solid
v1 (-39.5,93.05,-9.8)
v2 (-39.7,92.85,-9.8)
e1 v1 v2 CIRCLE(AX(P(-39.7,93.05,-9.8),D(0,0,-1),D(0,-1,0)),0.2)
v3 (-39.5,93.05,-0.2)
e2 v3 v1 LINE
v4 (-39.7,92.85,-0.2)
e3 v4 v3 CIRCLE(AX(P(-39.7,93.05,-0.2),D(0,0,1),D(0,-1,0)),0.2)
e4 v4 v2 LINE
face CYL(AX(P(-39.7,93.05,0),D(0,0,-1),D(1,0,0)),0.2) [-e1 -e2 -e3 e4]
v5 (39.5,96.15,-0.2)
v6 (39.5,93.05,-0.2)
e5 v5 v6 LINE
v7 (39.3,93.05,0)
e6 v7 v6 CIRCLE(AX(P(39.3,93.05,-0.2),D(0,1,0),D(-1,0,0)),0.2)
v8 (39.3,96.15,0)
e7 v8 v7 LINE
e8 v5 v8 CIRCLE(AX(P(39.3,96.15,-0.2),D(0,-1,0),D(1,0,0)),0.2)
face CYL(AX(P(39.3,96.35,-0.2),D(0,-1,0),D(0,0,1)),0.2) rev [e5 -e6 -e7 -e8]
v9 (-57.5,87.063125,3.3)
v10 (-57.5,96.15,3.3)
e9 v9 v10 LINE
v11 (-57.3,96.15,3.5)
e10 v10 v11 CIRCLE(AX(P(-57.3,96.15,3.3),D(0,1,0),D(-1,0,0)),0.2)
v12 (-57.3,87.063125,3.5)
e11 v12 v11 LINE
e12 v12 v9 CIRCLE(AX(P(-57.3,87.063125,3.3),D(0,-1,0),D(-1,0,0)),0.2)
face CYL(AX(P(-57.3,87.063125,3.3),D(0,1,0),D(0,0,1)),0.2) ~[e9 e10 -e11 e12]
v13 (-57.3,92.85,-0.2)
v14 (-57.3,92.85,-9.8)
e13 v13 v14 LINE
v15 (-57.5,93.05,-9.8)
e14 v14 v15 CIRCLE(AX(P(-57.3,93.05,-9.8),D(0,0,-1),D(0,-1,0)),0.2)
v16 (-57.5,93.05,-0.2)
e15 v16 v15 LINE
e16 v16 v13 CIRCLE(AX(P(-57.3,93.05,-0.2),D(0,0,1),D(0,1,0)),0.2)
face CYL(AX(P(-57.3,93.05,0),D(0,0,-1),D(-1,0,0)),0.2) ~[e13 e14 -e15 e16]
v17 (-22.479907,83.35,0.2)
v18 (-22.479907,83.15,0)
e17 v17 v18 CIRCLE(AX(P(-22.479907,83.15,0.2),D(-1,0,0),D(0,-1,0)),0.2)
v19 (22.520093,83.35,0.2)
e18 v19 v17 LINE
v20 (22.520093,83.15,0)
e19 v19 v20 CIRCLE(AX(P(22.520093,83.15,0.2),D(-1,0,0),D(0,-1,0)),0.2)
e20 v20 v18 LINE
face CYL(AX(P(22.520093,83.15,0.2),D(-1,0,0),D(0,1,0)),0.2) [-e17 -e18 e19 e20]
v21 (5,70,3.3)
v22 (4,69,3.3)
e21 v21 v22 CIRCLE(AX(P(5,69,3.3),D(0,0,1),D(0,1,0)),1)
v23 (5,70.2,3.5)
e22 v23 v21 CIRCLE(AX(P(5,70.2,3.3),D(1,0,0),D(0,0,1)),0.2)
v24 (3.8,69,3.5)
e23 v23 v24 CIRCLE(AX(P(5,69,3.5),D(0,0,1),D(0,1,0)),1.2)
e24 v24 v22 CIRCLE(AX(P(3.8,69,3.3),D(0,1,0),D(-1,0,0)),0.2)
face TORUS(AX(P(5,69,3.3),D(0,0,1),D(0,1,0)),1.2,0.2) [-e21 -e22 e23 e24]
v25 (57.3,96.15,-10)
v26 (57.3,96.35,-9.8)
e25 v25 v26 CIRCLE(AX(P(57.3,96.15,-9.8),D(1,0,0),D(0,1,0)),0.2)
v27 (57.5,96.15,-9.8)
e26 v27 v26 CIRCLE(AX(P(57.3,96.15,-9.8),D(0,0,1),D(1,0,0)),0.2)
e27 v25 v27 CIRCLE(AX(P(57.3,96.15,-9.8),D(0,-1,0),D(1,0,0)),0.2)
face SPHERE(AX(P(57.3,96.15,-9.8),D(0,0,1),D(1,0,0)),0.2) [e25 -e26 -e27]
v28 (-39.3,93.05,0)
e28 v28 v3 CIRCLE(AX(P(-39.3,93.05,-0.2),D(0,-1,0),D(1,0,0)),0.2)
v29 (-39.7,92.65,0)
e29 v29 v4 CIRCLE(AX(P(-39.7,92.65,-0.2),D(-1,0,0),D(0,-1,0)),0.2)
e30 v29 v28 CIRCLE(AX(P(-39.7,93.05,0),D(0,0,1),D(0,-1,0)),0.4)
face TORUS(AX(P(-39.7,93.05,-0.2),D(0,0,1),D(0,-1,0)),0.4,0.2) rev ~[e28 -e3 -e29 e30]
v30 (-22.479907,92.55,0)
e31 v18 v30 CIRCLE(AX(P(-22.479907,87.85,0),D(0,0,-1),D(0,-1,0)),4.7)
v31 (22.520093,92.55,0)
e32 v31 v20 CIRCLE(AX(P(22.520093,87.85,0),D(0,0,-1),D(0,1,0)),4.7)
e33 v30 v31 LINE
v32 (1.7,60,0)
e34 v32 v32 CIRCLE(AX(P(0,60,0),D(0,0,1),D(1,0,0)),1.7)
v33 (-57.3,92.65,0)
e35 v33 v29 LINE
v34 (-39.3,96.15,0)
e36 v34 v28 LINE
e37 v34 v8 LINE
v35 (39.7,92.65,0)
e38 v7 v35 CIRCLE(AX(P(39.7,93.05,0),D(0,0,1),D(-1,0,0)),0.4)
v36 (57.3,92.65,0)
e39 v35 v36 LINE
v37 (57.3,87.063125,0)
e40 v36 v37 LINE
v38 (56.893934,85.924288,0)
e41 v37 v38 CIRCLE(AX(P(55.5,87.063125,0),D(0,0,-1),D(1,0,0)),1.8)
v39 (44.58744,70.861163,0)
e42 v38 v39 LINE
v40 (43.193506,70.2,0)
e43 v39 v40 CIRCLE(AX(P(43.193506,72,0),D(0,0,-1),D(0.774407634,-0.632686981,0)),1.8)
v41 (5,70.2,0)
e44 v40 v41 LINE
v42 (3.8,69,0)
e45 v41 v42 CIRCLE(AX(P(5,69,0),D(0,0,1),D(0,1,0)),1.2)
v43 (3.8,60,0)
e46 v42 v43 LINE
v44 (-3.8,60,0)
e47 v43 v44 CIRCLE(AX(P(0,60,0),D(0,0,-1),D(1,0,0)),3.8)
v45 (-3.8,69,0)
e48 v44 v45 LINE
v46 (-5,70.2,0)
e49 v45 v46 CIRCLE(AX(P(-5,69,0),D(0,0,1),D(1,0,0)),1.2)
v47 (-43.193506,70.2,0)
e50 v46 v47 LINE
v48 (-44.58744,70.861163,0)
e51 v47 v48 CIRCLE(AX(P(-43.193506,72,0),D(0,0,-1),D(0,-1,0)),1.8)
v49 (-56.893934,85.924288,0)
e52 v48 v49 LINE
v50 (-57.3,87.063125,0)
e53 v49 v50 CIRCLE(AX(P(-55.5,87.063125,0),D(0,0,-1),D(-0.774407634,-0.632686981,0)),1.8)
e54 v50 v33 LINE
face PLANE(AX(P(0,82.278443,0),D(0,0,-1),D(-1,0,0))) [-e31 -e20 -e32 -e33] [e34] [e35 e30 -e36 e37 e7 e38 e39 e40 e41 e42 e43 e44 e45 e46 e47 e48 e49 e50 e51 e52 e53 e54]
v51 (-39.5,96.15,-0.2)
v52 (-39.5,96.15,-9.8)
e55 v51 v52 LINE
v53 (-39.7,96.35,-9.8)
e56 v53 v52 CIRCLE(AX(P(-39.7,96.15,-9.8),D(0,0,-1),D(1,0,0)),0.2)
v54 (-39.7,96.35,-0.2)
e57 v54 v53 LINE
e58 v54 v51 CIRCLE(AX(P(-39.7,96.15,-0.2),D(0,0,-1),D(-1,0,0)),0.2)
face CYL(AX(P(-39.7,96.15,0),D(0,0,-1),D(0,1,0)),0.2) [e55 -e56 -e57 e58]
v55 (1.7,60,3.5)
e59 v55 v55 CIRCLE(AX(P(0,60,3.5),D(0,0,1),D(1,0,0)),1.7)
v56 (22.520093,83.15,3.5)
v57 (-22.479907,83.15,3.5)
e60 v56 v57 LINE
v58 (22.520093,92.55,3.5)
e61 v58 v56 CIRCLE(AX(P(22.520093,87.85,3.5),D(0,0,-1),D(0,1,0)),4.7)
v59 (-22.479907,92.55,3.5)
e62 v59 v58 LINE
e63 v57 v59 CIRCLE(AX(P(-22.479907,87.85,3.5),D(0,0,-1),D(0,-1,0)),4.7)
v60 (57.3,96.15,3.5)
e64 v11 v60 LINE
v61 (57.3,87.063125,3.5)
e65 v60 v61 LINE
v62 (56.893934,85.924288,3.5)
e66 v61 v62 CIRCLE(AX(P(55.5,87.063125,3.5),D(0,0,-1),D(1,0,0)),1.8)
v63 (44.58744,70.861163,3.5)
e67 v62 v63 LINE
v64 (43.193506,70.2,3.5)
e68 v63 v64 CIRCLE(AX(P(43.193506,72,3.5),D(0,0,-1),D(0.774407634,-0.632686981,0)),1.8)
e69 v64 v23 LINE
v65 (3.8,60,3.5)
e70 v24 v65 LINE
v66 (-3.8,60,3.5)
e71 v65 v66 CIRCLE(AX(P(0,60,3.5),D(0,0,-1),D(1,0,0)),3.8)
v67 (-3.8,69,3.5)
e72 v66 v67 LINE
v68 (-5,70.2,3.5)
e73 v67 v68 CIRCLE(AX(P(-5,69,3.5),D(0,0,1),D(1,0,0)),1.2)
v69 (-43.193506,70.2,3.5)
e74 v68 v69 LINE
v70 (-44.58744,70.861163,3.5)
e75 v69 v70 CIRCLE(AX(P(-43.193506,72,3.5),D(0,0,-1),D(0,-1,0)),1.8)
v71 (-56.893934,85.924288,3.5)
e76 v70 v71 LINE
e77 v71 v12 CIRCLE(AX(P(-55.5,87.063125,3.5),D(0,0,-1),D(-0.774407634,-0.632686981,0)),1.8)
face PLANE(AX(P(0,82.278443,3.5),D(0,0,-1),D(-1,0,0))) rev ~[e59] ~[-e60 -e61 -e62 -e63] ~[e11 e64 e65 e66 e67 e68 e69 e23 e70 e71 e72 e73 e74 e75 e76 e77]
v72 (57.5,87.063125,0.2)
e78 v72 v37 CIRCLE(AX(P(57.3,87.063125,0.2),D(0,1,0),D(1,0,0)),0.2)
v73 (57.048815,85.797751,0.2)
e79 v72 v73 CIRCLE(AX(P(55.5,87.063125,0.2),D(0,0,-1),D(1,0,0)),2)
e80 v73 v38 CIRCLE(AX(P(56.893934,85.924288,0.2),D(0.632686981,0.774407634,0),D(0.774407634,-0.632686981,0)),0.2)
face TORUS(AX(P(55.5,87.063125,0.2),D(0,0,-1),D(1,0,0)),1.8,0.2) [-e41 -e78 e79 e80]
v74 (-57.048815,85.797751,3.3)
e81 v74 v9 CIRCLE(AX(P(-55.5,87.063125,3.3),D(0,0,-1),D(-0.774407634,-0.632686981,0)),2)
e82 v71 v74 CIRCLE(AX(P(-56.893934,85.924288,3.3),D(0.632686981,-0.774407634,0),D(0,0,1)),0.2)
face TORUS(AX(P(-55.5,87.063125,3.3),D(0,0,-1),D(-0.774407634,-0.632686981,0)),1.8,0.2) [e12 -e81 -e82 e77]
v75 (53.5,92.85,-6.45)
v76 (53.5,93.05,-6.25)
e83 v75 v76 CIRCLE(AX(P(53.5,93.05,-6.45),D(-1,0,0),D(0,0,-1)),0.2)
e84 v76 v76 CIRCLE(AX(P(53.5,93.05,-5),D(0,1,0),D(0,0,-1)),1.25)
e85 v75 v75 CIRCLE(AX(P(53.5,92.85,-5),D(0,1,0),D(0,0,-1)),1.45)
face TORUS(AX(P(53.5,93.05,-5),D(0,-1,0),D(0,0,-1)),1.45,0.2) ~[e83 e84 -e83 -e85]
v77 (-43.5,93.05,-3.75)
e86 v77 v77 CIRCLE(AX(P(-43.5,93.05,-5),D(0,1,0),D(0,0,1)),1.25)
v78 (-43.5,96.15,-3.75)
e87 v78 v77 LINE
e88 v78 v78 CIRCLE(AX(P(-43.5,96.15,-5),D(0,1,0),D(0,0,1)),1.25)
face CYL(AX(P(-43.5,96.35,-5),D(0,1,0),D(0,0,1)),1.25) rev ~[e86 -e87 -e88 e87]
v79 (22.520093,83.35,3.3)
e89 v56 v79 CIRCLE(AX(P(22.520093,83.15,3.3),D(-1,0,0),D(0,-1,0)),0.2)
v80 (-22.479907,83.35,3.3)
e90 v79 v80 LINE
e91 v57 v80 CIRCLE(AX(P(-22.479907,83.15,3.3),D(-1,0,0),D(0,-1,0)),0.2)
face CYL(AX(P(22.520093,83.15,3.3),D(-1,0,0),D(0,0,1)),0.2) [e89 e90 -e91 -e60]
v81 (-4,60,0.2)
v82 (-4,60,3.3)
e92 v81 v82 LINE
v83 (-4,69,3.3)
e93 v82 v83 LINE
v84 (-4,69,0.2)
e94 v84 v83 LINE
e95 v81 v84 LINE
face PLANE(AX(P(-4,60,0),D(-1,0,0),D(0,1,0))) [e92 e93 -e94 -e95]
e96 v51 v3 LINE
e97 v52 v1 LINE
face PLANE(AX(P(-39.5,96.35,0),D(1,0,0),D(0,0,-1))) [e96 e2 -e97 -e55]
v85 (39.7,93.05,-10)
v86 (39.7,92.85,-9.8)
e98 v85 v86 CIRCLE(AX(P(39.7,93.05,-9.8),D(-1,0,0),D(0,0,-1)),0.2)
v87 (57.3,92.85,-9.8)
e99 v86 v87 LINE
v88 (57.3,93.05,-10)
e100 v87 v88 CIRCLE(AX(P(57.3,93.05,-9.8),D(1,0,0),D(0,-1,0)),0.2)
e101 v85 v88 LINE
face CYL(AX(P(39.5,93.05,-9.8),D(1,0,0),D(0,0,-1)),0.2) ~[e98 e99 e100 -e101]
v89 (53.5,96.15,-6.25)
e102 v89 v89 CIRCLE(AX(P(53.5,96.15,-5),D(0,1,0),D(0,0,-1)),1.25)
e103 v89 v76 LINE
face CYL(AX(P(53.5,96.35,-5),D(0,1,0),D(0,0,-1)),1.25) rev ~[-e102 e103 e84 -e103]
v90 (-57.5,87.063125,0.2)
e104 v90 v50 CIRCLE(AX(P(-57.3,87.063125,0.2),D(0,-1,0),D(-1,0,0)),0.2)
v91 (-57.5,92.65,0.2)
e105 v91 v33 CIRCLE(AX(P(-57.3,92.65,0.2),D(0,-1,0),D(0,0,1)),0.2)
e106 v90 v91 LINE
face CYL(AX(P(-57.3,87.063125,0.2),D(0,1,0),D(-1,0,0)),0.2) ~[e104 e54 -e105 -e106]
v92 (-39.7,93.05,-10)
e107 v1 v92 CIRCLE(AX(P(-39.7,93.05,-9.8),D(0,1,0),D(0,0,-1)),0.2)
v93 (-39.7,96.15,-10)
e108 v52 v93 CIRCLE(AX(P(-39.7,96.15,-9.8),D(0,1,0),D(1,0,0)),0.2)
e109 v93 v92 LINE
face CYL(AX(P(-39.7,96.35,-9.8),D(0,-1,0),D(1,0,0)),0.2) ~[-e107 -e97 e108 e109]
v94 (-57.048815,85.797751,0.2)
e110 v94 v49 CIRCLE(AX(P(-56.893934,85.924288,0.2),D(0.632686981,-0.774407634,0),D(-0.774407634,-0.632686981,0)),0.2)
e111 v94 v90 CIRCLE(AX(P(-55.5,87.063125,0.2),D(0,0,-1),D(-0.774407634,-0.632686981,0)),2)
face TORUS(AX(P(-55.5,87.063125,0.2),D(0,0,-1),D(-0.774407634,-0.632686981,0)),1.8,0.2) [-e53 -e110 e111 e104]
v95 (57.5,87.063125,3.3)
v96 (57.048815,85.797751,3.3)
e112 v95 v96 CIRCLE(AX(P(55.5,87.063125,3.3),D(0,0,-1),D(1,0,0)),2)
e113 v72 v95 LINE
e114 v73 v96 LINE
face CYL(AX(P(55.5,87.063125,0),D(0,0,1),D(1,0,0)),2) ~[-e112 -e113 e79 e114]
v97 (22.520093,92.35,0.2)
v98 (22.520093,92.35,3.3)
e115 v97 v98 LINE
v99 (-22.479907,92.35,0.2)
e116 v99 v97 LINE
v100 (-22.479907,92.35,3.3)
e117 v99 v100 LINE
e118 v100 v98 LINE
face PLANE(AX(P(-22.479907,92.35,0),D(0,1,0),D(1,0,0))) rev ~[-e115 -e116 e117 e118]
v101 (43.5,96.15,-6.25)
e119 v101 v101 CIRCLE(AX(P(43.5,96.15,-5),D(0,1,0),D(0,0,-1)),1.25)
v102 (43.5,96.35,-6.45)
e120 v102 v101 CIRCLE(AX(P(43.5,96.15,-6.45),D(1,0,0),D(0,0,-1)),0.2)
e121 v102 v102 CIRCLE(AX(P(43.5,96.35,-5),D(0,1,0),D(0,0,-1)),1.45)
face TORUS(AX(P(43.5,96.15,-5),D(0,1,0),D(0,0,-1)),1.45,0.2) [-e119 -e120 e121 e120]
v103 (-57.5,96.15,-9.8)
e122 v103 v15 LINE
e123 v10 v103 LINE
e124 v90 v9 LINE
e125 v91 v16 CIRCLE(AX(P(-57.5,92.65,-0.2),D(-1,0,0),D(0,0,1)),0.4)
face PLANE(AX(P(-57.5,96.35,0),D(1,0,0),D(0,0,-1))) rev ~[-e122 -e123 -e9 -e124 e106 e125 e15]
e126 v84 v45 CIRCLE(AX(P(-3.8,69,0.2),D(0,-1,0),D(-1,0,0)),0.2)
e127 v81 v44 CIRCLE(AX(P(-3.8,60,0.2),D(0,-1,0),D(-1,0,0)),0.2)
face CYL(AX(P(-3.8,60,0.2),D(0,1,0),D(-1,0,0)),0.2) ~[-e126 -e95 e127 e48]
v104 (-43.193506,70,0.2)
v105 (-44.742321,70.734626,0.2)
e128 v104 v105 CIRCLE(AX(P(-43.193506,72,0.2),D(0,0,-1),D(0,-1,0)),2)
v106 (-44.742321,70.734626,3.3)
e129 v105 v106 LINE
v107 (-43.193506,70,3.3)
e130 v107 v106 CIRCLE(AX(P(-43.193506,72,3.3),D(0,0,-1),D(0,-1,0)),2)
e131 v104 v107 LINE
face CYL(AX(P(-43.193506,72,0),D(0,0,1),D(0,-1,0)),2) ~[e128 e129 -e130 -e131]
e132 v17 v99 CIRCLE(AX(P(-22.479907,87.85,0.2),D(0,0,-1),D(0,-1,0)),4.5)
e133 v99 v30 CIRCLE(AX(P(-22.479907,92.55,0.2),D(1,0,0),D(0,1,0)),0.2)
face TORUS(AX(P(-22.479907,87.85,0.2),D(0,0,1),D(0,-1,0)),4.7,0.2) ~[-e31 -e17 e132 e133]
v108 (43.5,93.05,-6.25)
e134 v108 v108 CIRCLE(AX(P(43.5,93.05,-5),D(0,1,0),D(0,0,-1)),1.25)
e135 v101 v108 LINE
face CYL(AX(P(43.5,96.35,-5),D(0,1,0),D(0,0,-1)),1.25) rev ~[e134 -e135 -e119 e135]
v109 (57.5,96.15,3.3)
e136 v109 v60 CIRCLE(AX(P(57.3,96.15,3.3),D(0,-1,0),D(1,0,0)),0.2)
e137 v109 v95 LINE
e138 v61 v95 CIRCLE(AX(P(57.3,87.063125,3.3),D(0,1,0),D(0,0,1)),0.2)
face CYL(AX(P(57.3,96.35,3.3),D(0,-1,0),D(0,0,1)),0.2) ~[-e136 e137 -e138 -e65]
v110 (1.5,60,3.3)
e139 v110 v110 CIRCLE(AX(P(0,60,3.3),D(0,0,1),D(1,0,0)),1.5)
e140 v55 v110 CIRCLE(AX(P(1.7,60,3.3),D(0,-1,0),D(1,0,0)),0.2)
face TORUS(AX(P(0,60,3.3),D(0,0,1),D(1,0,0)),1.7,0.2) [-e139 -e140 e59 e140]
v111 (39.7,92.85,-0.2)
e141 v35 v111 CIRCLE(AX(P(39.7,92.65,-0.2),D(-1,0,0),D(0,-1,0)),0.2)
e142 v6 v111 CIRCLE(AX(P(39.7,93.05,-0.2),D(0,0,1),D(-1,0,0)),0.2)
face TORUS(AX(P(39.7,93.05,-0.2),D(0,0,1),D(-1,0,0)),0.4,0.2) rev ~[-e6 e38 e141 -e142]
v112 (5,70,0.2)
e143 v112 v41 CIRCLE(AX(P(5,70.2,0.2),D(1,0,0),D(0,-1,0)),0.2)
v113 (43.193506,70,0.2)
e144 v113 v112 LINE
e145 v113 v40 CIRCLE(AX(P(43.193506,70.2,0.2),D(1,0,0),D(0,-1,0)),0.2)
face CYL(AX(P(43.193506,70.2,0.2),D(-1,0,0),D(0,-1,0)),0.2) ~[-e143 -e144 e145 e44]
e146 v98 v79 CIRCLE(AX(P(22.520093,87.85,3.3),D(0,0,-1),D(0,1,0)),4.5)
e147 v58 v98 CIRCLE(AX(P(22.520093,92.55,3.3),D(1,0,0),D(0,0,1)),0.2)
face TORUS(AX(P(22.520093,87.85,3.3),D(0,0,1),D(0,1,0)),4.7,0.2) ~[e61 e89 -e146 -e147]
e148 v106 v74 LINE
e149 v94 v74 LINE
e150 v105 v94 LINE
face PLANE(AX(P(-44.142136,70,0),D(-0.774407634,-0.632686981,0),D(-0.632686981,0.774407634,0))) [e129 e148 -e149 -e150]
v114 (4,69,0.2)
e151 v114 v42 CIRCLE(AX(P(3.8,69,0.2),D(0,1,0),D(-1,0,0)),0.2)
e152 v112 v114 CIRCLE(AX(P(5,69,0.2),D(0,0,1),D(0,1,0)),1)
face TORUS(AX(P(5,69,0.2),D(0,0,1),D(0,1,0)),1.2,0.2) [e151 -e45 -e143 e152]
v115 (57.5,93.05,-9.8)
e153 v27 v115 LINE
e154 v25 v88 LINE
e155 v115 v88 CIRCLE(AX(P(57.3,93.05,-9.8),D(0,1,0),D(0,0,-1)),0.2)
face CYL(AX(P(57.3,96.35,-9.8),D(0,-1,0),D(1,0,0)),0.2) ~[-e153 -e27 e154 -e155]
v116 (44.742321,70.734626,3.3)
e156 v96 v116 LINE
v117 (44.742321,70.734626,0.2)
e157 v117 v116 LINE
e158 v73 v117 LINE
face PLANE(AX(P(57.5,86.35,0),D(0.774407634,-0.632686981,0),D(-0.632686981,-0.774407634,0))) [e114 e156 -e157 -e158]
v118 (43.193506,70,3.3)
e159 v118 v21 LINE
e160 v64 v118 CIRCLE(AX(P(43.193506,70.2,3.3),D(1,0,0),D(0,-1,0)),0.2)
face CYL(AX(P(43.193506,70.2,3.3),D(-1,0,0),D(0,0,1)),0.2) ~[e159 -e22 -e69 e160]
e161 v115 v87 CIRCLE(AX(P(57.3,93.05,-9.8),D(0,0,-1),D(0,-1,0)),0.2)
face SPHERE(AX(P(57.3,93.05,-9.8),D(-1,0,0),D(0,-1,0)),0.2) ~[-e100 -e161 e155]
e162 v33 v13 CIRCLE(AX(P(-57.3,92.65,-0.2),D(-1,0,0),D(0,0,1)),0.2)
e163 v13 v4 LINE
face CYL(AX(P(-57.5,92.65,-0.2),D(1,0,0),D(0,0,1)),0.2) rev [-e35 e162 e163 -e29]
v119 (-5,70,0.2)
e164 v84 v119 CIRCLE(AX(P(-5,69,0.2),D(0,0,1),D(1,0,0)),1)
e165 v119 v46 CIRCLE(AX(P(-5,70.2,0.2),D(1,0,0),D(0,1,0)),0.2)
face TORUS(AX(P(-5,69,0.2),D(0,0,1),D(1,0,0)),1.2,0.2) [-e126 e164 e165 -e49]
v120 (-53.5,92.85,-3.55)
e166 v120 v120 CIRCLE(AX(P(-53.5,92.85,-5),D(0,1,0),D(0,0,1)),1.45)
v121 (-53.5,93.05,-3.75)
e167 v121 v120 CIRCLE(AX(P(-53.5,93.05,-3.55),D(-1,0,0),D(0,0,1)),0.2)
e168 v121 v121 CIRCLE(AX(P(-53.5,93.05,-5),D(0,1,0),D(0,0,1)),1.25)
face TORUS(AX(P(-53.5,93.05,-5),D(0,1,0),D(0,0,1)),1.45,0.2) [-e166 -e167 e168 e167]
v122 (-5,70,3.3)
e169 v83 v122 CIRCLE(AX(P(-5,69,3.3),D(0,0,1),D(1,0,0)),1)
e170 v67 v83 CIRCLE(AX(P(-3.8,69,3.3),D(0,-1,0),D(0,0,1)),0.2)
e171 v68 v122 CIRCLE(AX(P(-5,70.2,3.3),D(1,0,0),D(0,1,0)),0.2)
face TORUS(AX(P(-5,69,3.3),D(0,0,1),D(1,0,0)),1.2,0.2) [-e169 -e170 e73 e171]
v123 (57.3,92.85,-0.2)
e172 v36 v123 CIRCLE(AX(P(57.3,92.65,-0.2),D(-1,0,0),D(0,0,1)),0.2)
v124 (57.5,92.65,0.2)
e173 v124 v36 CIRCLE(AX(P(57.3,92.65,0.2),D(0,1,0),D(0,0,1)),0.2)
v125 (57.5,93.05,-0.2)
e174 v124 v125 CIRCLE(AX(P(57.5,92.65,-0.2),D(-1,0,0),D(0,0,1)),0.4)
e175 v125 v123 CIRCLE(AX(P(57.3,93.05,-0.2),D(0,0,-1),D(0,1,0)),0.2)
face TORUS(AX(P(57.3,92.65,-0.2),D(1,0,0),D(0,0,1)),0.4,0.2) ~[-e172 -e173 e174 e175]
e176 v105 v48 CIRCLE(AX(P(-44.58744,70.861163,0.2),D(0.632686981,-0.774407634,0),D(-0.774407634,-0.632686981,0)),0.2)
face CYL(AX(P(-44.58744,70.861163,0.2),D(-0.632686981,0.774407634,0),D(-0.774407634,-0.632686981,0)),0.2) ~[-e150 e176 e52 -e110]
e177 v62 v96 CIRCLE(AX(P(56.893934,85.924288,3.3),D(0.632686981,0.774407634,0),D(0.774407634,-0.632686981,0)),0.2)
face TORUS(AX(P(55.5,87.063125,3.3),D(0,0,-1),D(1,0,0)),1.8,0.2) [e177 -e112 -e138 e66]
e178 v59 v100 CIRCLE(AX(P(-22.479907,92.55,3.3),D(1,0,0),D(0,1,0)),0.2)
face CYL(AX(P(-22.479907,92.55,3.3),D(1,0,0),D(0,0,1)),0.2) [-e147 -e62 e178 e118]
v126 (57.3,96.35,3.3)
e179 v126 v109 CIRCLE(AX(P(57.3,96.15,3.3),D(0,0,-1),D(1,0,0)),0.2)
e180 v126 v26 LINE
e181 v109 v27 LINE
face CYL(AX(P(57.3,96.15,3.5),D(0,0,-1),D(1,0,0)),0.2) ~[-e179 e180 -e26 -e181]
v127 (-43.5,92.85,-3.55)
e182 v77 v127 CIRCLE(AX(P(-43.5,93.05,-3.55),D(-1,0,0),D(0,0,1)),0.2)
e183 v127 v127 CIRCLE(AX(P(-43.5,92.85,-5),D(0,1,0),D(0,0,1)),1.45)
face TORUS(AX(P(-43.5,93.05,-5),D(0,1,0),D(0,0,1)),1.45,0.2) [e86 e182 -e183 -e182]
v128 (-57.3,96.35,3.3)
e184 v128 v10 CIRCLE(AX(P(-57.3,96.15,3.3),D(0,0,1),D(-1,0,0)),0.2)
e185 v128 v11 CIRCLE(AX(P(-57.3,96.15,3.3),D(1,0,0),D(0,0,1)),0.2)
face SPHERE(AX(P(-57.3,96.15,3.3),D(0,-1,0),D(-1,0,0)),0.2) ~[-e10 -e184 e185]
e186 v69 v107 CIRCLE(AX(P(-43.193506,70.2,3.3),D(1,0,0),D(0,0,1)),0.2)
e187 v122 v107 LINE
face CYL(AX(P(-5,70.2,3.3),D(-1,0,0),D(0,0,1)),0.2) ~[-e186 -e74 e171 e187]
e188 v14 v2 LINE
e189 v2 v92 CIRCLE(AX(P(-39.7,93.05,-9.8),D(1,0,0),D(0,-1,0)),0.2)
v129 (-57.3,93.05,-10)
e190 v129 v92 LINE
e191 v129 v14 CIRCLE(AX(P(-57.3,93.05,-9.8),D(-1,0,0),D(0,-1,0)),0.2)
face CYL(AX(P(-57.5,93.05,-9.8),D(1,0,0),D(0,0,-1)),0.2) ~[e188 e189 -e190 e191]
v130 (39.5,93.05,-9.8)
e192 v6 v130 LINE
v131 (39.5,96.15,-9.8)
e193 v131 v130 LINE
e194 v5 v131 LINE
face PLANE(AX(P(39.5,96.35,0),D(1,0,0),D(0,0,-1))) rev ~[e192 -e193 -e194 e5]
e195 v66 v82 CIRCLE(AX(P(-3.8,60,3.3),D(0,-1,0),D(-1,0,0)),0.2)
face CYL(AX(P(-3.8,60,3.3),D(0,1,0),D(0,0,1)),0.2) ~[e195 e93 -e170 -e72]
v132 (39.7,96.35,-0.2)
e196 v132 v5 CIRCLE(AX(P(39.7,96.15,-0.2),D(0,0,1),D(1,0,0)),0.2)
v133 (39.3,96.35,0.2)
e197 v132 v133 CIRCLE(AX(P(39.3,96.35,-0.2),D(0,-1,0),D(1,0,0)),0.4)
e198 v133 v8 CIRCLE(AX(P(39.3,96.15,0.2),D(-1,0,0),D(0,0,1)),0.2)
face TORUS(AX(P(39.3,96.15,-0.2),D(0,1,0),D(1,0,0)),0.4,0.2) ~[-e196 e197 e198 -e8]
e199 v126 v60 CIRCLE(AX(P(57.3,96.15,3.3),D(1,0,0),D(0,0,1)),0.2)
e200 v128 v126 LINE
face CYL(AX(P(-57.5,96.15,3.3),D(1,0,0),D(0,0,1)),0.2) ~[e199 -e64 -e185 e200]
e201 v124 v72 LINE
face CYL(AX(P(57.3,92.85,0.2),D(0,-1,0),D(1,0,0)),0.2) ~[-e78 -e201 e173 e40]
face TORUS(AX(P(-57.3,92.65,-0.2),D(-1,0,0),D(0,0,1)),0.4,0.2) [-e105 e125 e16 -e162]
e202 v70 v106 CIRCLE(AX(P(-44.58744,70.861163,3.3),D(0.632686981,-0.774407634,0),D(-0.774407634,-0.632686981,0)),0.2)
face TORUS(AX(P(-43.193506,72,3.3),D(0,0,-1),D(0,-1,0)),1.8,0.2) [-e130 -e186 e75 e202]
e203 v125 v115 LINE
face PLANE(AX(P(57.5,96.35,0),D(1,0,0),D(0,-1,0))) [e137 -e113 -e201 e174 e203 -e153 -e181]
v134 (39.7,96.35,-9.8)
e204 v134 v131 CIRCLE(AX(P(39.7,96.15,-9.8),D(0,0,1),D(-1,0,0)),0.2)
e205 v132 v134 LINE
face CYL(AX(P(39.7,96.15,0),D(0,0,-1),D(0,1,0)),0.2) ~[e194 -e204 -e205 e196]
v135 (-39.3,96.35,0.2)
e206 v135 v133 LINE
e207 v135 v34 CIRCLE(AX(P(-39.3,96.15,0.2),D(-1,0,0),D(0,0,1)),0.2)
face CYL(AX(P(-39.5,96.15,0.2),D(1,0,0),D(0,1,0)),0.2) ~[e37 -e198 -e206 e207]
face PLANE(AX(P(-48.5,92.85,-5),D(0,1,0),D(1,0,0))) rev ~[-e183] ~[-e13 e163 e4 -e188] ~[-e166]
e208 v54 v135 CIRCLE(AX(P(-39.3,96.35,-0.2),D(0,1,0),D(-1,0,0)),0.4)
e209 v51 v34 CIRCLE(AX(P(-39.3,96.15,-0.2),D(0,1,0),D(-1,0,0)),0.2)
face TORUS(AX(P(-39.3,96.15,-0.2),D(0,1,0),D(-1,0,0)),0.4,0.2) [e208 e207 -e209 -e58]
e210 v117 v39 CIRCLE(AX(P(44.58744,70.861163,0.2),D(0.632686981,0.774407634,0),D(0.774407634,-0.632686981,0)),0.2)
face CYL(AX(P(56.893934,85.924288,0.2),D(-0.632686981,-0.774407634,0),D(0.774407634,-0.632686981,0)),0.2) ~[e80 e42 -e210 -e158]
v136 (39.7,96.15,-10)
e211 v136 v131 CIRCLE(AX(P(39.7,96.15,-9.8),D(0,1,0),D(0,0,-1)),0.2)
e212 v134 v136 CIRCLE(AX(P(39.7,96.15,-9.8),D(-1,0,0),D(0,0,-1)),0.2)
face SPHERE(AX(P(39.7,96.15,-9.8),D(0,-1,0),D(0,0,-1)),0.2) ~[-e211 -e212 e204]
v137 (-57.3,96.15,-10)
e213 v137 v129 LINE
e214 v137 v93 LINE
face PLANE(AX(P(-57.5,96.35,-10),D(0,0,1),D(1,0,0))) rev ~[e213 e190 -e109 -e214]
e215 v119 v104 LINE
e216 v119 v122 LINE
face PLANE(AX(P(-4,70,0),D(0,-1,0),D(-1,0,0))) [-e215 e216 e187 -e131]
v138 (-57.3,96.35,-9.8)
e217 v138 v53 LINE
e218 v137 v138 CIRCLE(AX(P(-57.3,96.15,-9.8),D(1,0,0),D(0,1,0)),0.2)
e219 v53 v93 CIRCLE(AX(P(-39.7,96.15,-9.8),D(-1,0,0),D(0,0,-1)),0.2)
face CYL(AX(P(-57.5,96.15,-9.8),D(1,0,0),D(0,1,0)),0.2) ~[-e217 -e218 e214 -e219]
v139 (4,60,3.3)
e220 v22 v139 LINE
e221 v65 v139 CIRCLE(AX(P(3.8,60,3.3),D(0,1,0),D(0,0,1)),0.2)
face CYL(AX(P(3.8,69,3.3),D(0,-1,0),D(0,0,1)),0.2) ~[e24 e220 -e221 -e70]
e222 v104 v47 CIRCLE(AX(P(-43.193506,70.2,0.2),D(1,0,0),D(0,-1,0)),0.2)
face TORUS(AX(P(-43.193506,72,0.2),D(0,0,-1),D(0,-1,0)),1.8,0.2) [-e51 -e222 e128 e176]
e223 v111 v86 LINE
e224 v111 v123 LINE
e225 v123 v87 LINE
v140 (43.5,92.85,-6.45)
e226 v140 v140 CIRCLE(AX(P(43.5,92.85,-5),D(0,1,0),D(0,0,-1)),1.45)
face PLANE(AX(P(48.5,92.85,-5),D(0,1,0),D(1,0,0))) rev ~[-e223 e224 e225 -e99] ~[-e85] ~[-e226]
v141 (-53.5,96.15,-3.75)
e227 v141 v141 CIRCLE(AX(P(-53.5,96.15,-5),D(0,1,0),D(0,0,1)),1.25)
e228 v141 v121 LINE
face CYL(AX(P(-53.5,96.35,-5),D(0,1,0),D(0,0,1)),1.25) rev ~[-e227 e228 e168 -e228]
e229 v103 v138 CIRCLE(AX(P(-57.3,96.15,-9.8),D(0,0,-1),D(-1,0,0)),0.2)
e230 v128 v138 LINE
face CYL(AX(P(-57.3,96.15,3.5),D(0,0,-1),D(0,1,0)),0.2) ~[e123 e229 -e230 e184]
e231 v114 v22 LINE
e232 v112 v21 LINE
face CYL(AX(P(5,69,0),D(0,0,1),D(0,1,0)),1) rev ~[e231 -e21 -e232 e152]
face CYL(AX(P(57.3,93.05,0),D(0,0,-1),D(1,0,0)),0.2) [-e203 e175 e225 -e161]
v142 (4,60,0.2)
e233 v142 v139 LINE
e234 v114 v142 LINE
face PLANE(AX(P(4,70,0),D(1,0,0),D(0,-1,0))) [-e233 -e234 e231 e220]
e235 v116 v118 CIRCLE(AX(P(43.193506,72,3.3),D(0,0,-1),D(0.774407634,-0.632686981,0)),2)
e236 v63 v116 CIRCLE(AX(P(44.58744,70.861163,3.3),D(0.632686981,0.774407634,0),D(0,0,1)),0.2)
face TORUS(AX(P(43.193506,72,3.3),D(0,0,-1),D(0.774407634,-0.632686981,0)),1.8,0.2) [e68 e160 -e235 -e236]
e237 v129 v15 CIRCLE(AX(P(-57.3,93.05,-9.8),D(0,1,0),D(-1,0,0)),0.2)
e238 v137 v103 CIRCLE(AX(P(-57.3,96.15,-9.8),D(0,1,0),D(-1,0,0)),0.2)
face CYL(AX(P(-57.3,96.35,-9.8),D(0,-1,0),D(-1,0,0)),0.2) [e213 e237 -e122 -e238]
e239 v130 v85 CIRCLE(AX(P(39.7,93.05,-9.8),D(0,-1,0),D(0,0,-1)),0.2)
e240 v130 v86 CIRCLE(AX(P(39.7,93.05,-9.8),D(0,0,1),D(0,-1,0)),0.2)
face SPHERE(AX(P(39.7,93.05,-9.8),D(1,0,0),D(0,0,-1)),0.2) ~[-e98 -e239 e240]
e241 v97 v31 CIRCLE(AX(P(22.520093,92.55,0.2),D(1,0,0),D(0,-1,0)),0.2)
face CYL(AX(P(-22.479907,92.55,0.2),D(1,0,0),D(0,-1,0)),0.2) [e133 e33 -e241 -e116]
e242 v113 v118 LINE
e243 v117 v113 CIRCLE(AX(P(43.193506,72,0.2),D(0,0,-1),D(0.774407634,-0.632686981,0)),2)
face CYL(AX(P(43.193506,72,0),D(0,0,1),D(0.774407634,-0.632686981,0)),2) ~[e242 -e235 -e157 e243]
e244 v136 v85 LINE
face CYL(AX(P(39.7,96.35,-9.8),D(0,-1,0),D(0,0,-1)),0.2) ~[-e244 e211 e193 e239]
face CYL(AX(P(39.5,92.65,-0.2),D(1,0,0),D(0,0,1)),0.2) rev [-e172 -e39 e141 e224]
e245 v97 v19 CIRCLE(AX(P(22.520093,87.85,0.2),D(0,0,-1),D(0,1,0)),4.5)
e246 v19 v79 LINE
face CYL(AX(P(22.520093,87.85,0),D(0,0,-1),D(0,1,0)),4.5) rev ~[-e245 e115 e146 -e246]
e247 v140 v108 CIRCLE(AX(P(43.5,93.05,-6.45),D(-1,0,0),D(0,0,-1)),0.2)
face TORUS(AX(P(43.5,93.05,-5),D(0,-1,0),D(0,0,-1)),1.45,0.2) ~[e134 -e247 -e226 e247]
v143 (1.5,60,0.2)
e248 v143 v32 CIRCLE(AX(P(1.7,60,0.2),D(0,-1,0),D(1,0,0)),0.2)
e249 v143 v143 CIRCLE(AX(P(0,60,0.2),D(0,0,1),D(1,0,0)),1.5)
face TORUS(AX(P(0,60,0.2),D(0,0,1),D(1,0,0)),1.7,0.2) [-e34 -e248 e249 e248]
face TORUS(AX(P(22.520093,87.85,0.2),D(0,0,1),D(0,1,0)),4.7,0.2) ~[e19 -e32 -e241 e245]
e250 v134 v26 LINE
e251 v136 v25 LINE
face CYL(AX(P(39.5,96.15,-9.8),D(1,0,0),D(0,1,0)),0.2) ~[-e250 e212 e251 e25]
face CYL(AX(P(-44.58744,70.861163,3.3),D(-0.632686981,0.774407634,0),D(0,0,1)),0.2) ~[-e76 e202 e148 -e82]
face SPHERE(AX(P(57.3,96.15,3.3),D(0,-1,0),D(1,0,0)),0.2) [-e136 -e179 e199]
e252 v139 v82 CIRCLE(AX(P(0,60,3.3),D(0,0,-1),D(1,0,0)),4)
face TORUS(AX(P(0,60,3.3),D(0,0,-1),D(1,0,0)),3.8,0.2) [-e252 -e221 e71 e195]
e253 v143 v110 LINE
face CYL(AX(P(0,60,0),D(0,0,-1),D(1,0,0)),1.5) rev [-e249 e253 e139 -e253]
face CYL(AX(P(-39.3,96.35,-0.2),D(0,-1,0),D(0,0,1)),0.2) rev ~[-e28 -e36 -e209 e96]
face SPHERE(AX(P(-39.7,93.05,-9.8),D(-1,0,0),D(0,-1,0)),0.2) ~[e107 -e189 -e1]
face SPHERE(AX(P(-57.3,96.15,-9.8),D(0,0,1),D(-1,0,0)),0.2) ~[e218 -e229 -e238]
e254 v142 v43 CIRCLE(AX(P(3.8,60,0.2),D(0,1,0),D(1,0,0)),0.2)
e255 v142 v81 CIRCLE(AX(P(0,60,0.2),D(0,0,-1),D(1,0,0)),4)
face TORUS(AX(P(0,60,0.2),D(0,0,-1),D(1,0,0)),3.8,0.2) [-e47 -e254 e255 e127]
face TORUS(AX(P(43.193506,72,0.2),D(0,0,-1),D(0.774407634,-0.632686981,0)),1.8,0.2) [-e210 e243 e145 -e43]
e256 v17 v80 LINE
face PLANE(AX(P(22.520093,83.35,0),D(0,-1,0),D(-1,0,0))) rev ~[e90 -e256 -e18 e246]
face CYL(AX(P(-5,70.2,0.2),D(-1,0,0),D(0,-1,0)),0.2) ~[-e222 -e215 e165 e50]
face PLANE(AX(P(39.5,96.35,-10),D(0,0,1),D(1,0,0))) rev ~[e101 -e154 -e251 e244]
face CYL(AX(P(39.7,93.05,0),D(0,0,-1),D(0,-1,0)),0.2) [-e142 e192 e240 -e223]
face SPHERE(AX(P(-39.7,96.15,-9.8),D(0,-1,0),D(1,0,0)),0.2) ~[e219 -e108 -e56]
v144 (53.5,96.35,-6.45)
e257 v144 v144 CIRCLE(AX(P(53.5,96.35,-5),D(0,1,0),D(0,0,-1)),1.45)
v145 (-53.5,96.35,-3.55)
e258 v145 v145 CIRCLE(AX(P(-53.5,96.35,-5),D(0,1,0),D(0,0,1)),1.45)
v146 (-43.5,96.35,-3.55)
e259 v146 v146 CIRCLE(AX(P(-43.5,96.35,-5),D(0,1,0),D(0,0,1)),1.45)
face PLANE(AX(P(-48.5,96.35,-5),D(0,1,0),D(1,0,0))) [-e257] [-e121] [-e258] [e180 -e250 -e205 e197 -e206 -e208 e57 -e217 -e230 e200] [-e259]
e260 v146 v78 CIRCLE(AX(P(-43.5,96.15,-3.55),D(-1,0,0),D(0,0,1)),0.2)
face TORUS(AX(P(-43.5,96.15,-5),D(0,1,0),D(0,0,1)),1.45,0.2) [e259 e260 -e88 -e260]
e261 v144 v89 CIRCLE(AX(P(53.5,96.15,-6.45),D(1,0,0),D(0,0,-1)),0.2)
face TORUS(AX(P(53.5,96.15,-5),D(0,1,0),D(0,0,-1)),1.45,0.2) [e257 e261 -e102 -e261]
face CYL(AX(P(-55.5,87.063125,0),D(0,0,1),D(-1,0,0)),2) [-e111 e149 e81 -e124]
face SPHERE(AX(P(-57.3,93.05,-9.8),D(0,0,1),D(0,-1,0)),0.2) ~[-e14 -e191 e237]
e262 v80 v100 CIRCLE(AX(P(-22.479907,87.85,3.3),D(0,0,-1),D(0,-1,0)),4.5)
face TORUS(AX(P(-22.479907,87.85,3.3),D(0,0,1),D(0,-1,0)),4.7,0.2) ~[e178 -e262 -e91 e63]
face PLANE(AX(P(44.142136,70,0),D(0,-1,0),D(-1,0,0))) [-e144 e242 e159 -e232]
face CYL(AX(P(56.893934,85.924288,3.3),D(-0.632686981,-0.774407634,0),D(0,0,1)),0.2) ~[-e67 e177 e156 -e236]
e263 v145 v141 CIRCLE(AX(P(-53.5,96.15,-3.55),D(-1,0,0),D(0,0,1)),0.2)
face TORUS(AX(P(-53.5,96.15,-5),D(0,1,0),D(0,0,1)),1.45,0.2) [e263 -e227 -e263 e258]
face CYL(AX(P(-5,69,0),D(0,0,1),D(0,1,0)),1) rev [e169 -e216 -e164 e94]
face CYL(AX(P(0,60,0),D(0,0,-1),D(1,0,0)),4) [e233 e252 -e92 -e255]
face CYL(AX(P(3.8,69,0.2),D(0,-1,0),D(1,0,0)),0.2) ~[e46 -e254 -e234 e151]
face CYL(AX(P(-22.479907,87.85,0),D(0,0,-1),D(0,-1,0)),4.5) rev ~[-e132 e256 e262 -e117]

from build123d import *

# Parameters (mm, degrees)
SKETCH4_R           = 1.5
BOSS_EXTRUDE1_DEPTH = 3.5
SKETCH5_W           = 18
SKETCH5_H           = 10
SKETCH5_R           = 1.25
BOSS_EXTRUDE2_DEPTH = 3.5
FILLET1_R           = 2
FILLET2_R           = 1
FILLET3_R           = 0.2


with BuildPart() as part:
    # Sketch4 → Boss-Extrude1 (new body)
    with BuildSketch(Plane.XY):
        with BuildLine():
            Line((57.5, 96.35), (57.5, 86.35))
            Line((57.5, 86.35), (44.142135624, 70))
            Line((44.142135624, 70), (4, 70))
            Line((4, 70), (4, 60))
            ThreePointArc((4, 60), (0, 56), (-4, 60))
            Line((-4, 60), (-4, 70))
            Line((-4, 70), (-44.142135624, 70))
            Line((-44.142135624, 70), (-57.5, 86.35))
            Line((-57.5, 86.35), (-57.5, 96.35))
            Line((-57.5, 96.35), (57.5, 96.35))
        make_face()
        with Locations((0, 60)):
            Circle(SKETCH4_R, mode=Mode.SUBTRACT)
        with BuildLine():
            Line((-22.479906762, 92.35), (22.520093238, 92.35))
            ThreePointArc((22.520093238, 92.35), (27.020093238, 87.85), (22.520093238, 83.35))
            Line((22.520093238, 83.35), (-22.479906762, 83.35))
            ThreePointArc((-22.479906762, 83.35), (-26.979906762, 87.85), (-22.479906762, 92.35))
        make_face(mode=Mode.SUBTRACT)
    extrude(amount=BOSS_EXTRUDE1_DEPTH)

    # Sketch5 → Boss-Extrude2 (add)
    # profile 1 of 2: a face of its own
    with BuildSketch(Plane(origin=(0, 96.35, 0), x_dir=(1, 0, 0), z_dir=(0, 1, 0))):
        with Locations((-48.5, 5)):
            Rectangle(SKETCH5_W, SKETCH5_H)
        with Locations(Location((-53.5, 5, 0), (0, 0, 270))):
            Circle(SKETCH5_R, mode=Mode.SUBTRACT)
        with Locations(Location((-43.5, 5, 0), (0, 0, 270))):
            Circle(SKETCH5_R, mode=Mode.SUBTRACT)
    # profile 2 of 2: a face of its own
    with BuildSketch(Plane(origin=(0, 96.35, 0), x_dir=(1, 0, 0), z_dir=(0, 1, 0))):
        with Locations((48.5, 5)):
            Rectangle(SKETCH5_W, SKETCH5_H)
        with Locations(Location((43.5, 5, 0), (0, 0, 90))):
            Circle(SKETCH5_R, mode=Mode.SUBTRACT)
        with Locations(Location((53.5, 5, 0), (0, 0, 90))):
            Circle(SKETCH5_R, mode=Mode.SUBTRACT)
    extrude(amount=-BOSS_EXTRUDE2_DEPTH)

    # Fillet1
    fillet1_edges = [part.edges().sort_by_distance(p)[0] for p in [
        (57.5, 86.35, 1.75),
        (44.142135624, 70, 1.75),
        (-44.142135624, 70, 1.75),
        (-57.5, 86.35, 1.75),
    ]]
    fillet(fillet1_edges, radius=FILLET1_R)

    # Fillet2
    fillet2_edges = [part.edges().sort_by_distance(p)[0] for p in [
        (4, 70, 1.75),
        (-4, 70, 1.75),
    ]]
    fillet(fillet2_edges, radius=FILLET2_R)

    # Fillet3
    fillet3_edges = [part.edges().sort_by_distance(p)[0] for p in [
        (24.09675299, 70, 0),
        (24.09675299, 70, 3.5),
        (-4, 64.5, 0),
        (-4, 64.5, 3.5),
        (4.292893219, 69.707106781, 0),
        (4.292893219, 69.707106781, 3.5),
        (-4.292893219, 69.707106781, 0),
        (4, 64.5, 0),
        (-4.292893219, 69.707106781, 3.5),
        (0, 56, 0),
        (57.5, 96.35, -3.25),
        (-57.5, 96.35, -3.25),
        (0, 56, 3.5),
        (-1.5, 60, 0),
        (-1.5, 60, 3.5),
        (4, 64.5, 3.5),
        (-26.979906762, 87.85, 0),
        (0.020093238, 83.35, 0),
        (27.020093238, 87.85, 0),
        (0.020093238, 92.35, 0),
        (-26.979906762, 87.85, 3.5),
        (0.020093238, 83.35, 3.5),
        (27.020093238, 87.85, 3.5),
        (0.020093238, 92.35, 3.5),
        (0, 96.35, 3.5),
        (-57.5, 89.956562364, 0),
        (-57.5, 92.85, -5),
        (-48.5, 92.85, -10),
        (-57.5, 94.6, -10),
        (-39.5, 92.85, -5),
        (-39.5, 94.6, -10),
        (-48.5, 92.85, 0),
        (-39.5, 94.6, 0),
        (-43.5, 92.85, -6.25),
        (-53.5, 92.85, -6.25),
        (-39.5, 96.35, -5),
        (-48.5, 96.35, -10),
        (-53.5, 96.35, -6.25),
        (-43.5, 96.35, -6.25),
        (0, 96.35, 0),
        (48.5, 92.85, -10),
        (39.5, 94.6, -10),
        (57.5, 92.85, -5),
        (57.5, 94.6, -10),
        (48.5, 92.85, 0),
        (39.5, 92.85, -5),
        (39.5, 94.6, 0),
        (53.5, 92.85, -3.75),
        (43.5, 92.85, -3.75),
        (48.5, 96.35, -10),
        (39.5, 96.35, -5),
        (43.5, 96.35, -3.75),
        (53.5, 96.35, -3.75),
        (-24.09675299, 70, 0),
        (-24.09675299, 70, 3.5),
        (57.5, 89.956562364, 0),
        (50.895568258, 78.266188402, 0),
        (-50.895568258, 78.266188402, 0),
        (57.383829947, 86.391421869, 0),
        (44.050609264, 70.192965423, 0),
        (-57.383829947, 86.391421869, 0),
        (-44.050609264, 70.192965423, 0),
        (-50.895568258, 78.266188402, 3.5),
        (-57.5, 91.706562364, 3.5),
        (50.895568258, 78.266188402, 3.5),
        (57.5, 91.706562364, 3.5),
        (57.383829947, 86.391421869, 3.5),
        (44.050609264, 70.192965423, 3.5),
        (-57.383829947, 86.391421869, 3.5),
        (-44.050609264, 70.192965423, 3.5),
    ]]
    fillet(fillet3_edges, radius=FILLET3_R)


solid = part.part
